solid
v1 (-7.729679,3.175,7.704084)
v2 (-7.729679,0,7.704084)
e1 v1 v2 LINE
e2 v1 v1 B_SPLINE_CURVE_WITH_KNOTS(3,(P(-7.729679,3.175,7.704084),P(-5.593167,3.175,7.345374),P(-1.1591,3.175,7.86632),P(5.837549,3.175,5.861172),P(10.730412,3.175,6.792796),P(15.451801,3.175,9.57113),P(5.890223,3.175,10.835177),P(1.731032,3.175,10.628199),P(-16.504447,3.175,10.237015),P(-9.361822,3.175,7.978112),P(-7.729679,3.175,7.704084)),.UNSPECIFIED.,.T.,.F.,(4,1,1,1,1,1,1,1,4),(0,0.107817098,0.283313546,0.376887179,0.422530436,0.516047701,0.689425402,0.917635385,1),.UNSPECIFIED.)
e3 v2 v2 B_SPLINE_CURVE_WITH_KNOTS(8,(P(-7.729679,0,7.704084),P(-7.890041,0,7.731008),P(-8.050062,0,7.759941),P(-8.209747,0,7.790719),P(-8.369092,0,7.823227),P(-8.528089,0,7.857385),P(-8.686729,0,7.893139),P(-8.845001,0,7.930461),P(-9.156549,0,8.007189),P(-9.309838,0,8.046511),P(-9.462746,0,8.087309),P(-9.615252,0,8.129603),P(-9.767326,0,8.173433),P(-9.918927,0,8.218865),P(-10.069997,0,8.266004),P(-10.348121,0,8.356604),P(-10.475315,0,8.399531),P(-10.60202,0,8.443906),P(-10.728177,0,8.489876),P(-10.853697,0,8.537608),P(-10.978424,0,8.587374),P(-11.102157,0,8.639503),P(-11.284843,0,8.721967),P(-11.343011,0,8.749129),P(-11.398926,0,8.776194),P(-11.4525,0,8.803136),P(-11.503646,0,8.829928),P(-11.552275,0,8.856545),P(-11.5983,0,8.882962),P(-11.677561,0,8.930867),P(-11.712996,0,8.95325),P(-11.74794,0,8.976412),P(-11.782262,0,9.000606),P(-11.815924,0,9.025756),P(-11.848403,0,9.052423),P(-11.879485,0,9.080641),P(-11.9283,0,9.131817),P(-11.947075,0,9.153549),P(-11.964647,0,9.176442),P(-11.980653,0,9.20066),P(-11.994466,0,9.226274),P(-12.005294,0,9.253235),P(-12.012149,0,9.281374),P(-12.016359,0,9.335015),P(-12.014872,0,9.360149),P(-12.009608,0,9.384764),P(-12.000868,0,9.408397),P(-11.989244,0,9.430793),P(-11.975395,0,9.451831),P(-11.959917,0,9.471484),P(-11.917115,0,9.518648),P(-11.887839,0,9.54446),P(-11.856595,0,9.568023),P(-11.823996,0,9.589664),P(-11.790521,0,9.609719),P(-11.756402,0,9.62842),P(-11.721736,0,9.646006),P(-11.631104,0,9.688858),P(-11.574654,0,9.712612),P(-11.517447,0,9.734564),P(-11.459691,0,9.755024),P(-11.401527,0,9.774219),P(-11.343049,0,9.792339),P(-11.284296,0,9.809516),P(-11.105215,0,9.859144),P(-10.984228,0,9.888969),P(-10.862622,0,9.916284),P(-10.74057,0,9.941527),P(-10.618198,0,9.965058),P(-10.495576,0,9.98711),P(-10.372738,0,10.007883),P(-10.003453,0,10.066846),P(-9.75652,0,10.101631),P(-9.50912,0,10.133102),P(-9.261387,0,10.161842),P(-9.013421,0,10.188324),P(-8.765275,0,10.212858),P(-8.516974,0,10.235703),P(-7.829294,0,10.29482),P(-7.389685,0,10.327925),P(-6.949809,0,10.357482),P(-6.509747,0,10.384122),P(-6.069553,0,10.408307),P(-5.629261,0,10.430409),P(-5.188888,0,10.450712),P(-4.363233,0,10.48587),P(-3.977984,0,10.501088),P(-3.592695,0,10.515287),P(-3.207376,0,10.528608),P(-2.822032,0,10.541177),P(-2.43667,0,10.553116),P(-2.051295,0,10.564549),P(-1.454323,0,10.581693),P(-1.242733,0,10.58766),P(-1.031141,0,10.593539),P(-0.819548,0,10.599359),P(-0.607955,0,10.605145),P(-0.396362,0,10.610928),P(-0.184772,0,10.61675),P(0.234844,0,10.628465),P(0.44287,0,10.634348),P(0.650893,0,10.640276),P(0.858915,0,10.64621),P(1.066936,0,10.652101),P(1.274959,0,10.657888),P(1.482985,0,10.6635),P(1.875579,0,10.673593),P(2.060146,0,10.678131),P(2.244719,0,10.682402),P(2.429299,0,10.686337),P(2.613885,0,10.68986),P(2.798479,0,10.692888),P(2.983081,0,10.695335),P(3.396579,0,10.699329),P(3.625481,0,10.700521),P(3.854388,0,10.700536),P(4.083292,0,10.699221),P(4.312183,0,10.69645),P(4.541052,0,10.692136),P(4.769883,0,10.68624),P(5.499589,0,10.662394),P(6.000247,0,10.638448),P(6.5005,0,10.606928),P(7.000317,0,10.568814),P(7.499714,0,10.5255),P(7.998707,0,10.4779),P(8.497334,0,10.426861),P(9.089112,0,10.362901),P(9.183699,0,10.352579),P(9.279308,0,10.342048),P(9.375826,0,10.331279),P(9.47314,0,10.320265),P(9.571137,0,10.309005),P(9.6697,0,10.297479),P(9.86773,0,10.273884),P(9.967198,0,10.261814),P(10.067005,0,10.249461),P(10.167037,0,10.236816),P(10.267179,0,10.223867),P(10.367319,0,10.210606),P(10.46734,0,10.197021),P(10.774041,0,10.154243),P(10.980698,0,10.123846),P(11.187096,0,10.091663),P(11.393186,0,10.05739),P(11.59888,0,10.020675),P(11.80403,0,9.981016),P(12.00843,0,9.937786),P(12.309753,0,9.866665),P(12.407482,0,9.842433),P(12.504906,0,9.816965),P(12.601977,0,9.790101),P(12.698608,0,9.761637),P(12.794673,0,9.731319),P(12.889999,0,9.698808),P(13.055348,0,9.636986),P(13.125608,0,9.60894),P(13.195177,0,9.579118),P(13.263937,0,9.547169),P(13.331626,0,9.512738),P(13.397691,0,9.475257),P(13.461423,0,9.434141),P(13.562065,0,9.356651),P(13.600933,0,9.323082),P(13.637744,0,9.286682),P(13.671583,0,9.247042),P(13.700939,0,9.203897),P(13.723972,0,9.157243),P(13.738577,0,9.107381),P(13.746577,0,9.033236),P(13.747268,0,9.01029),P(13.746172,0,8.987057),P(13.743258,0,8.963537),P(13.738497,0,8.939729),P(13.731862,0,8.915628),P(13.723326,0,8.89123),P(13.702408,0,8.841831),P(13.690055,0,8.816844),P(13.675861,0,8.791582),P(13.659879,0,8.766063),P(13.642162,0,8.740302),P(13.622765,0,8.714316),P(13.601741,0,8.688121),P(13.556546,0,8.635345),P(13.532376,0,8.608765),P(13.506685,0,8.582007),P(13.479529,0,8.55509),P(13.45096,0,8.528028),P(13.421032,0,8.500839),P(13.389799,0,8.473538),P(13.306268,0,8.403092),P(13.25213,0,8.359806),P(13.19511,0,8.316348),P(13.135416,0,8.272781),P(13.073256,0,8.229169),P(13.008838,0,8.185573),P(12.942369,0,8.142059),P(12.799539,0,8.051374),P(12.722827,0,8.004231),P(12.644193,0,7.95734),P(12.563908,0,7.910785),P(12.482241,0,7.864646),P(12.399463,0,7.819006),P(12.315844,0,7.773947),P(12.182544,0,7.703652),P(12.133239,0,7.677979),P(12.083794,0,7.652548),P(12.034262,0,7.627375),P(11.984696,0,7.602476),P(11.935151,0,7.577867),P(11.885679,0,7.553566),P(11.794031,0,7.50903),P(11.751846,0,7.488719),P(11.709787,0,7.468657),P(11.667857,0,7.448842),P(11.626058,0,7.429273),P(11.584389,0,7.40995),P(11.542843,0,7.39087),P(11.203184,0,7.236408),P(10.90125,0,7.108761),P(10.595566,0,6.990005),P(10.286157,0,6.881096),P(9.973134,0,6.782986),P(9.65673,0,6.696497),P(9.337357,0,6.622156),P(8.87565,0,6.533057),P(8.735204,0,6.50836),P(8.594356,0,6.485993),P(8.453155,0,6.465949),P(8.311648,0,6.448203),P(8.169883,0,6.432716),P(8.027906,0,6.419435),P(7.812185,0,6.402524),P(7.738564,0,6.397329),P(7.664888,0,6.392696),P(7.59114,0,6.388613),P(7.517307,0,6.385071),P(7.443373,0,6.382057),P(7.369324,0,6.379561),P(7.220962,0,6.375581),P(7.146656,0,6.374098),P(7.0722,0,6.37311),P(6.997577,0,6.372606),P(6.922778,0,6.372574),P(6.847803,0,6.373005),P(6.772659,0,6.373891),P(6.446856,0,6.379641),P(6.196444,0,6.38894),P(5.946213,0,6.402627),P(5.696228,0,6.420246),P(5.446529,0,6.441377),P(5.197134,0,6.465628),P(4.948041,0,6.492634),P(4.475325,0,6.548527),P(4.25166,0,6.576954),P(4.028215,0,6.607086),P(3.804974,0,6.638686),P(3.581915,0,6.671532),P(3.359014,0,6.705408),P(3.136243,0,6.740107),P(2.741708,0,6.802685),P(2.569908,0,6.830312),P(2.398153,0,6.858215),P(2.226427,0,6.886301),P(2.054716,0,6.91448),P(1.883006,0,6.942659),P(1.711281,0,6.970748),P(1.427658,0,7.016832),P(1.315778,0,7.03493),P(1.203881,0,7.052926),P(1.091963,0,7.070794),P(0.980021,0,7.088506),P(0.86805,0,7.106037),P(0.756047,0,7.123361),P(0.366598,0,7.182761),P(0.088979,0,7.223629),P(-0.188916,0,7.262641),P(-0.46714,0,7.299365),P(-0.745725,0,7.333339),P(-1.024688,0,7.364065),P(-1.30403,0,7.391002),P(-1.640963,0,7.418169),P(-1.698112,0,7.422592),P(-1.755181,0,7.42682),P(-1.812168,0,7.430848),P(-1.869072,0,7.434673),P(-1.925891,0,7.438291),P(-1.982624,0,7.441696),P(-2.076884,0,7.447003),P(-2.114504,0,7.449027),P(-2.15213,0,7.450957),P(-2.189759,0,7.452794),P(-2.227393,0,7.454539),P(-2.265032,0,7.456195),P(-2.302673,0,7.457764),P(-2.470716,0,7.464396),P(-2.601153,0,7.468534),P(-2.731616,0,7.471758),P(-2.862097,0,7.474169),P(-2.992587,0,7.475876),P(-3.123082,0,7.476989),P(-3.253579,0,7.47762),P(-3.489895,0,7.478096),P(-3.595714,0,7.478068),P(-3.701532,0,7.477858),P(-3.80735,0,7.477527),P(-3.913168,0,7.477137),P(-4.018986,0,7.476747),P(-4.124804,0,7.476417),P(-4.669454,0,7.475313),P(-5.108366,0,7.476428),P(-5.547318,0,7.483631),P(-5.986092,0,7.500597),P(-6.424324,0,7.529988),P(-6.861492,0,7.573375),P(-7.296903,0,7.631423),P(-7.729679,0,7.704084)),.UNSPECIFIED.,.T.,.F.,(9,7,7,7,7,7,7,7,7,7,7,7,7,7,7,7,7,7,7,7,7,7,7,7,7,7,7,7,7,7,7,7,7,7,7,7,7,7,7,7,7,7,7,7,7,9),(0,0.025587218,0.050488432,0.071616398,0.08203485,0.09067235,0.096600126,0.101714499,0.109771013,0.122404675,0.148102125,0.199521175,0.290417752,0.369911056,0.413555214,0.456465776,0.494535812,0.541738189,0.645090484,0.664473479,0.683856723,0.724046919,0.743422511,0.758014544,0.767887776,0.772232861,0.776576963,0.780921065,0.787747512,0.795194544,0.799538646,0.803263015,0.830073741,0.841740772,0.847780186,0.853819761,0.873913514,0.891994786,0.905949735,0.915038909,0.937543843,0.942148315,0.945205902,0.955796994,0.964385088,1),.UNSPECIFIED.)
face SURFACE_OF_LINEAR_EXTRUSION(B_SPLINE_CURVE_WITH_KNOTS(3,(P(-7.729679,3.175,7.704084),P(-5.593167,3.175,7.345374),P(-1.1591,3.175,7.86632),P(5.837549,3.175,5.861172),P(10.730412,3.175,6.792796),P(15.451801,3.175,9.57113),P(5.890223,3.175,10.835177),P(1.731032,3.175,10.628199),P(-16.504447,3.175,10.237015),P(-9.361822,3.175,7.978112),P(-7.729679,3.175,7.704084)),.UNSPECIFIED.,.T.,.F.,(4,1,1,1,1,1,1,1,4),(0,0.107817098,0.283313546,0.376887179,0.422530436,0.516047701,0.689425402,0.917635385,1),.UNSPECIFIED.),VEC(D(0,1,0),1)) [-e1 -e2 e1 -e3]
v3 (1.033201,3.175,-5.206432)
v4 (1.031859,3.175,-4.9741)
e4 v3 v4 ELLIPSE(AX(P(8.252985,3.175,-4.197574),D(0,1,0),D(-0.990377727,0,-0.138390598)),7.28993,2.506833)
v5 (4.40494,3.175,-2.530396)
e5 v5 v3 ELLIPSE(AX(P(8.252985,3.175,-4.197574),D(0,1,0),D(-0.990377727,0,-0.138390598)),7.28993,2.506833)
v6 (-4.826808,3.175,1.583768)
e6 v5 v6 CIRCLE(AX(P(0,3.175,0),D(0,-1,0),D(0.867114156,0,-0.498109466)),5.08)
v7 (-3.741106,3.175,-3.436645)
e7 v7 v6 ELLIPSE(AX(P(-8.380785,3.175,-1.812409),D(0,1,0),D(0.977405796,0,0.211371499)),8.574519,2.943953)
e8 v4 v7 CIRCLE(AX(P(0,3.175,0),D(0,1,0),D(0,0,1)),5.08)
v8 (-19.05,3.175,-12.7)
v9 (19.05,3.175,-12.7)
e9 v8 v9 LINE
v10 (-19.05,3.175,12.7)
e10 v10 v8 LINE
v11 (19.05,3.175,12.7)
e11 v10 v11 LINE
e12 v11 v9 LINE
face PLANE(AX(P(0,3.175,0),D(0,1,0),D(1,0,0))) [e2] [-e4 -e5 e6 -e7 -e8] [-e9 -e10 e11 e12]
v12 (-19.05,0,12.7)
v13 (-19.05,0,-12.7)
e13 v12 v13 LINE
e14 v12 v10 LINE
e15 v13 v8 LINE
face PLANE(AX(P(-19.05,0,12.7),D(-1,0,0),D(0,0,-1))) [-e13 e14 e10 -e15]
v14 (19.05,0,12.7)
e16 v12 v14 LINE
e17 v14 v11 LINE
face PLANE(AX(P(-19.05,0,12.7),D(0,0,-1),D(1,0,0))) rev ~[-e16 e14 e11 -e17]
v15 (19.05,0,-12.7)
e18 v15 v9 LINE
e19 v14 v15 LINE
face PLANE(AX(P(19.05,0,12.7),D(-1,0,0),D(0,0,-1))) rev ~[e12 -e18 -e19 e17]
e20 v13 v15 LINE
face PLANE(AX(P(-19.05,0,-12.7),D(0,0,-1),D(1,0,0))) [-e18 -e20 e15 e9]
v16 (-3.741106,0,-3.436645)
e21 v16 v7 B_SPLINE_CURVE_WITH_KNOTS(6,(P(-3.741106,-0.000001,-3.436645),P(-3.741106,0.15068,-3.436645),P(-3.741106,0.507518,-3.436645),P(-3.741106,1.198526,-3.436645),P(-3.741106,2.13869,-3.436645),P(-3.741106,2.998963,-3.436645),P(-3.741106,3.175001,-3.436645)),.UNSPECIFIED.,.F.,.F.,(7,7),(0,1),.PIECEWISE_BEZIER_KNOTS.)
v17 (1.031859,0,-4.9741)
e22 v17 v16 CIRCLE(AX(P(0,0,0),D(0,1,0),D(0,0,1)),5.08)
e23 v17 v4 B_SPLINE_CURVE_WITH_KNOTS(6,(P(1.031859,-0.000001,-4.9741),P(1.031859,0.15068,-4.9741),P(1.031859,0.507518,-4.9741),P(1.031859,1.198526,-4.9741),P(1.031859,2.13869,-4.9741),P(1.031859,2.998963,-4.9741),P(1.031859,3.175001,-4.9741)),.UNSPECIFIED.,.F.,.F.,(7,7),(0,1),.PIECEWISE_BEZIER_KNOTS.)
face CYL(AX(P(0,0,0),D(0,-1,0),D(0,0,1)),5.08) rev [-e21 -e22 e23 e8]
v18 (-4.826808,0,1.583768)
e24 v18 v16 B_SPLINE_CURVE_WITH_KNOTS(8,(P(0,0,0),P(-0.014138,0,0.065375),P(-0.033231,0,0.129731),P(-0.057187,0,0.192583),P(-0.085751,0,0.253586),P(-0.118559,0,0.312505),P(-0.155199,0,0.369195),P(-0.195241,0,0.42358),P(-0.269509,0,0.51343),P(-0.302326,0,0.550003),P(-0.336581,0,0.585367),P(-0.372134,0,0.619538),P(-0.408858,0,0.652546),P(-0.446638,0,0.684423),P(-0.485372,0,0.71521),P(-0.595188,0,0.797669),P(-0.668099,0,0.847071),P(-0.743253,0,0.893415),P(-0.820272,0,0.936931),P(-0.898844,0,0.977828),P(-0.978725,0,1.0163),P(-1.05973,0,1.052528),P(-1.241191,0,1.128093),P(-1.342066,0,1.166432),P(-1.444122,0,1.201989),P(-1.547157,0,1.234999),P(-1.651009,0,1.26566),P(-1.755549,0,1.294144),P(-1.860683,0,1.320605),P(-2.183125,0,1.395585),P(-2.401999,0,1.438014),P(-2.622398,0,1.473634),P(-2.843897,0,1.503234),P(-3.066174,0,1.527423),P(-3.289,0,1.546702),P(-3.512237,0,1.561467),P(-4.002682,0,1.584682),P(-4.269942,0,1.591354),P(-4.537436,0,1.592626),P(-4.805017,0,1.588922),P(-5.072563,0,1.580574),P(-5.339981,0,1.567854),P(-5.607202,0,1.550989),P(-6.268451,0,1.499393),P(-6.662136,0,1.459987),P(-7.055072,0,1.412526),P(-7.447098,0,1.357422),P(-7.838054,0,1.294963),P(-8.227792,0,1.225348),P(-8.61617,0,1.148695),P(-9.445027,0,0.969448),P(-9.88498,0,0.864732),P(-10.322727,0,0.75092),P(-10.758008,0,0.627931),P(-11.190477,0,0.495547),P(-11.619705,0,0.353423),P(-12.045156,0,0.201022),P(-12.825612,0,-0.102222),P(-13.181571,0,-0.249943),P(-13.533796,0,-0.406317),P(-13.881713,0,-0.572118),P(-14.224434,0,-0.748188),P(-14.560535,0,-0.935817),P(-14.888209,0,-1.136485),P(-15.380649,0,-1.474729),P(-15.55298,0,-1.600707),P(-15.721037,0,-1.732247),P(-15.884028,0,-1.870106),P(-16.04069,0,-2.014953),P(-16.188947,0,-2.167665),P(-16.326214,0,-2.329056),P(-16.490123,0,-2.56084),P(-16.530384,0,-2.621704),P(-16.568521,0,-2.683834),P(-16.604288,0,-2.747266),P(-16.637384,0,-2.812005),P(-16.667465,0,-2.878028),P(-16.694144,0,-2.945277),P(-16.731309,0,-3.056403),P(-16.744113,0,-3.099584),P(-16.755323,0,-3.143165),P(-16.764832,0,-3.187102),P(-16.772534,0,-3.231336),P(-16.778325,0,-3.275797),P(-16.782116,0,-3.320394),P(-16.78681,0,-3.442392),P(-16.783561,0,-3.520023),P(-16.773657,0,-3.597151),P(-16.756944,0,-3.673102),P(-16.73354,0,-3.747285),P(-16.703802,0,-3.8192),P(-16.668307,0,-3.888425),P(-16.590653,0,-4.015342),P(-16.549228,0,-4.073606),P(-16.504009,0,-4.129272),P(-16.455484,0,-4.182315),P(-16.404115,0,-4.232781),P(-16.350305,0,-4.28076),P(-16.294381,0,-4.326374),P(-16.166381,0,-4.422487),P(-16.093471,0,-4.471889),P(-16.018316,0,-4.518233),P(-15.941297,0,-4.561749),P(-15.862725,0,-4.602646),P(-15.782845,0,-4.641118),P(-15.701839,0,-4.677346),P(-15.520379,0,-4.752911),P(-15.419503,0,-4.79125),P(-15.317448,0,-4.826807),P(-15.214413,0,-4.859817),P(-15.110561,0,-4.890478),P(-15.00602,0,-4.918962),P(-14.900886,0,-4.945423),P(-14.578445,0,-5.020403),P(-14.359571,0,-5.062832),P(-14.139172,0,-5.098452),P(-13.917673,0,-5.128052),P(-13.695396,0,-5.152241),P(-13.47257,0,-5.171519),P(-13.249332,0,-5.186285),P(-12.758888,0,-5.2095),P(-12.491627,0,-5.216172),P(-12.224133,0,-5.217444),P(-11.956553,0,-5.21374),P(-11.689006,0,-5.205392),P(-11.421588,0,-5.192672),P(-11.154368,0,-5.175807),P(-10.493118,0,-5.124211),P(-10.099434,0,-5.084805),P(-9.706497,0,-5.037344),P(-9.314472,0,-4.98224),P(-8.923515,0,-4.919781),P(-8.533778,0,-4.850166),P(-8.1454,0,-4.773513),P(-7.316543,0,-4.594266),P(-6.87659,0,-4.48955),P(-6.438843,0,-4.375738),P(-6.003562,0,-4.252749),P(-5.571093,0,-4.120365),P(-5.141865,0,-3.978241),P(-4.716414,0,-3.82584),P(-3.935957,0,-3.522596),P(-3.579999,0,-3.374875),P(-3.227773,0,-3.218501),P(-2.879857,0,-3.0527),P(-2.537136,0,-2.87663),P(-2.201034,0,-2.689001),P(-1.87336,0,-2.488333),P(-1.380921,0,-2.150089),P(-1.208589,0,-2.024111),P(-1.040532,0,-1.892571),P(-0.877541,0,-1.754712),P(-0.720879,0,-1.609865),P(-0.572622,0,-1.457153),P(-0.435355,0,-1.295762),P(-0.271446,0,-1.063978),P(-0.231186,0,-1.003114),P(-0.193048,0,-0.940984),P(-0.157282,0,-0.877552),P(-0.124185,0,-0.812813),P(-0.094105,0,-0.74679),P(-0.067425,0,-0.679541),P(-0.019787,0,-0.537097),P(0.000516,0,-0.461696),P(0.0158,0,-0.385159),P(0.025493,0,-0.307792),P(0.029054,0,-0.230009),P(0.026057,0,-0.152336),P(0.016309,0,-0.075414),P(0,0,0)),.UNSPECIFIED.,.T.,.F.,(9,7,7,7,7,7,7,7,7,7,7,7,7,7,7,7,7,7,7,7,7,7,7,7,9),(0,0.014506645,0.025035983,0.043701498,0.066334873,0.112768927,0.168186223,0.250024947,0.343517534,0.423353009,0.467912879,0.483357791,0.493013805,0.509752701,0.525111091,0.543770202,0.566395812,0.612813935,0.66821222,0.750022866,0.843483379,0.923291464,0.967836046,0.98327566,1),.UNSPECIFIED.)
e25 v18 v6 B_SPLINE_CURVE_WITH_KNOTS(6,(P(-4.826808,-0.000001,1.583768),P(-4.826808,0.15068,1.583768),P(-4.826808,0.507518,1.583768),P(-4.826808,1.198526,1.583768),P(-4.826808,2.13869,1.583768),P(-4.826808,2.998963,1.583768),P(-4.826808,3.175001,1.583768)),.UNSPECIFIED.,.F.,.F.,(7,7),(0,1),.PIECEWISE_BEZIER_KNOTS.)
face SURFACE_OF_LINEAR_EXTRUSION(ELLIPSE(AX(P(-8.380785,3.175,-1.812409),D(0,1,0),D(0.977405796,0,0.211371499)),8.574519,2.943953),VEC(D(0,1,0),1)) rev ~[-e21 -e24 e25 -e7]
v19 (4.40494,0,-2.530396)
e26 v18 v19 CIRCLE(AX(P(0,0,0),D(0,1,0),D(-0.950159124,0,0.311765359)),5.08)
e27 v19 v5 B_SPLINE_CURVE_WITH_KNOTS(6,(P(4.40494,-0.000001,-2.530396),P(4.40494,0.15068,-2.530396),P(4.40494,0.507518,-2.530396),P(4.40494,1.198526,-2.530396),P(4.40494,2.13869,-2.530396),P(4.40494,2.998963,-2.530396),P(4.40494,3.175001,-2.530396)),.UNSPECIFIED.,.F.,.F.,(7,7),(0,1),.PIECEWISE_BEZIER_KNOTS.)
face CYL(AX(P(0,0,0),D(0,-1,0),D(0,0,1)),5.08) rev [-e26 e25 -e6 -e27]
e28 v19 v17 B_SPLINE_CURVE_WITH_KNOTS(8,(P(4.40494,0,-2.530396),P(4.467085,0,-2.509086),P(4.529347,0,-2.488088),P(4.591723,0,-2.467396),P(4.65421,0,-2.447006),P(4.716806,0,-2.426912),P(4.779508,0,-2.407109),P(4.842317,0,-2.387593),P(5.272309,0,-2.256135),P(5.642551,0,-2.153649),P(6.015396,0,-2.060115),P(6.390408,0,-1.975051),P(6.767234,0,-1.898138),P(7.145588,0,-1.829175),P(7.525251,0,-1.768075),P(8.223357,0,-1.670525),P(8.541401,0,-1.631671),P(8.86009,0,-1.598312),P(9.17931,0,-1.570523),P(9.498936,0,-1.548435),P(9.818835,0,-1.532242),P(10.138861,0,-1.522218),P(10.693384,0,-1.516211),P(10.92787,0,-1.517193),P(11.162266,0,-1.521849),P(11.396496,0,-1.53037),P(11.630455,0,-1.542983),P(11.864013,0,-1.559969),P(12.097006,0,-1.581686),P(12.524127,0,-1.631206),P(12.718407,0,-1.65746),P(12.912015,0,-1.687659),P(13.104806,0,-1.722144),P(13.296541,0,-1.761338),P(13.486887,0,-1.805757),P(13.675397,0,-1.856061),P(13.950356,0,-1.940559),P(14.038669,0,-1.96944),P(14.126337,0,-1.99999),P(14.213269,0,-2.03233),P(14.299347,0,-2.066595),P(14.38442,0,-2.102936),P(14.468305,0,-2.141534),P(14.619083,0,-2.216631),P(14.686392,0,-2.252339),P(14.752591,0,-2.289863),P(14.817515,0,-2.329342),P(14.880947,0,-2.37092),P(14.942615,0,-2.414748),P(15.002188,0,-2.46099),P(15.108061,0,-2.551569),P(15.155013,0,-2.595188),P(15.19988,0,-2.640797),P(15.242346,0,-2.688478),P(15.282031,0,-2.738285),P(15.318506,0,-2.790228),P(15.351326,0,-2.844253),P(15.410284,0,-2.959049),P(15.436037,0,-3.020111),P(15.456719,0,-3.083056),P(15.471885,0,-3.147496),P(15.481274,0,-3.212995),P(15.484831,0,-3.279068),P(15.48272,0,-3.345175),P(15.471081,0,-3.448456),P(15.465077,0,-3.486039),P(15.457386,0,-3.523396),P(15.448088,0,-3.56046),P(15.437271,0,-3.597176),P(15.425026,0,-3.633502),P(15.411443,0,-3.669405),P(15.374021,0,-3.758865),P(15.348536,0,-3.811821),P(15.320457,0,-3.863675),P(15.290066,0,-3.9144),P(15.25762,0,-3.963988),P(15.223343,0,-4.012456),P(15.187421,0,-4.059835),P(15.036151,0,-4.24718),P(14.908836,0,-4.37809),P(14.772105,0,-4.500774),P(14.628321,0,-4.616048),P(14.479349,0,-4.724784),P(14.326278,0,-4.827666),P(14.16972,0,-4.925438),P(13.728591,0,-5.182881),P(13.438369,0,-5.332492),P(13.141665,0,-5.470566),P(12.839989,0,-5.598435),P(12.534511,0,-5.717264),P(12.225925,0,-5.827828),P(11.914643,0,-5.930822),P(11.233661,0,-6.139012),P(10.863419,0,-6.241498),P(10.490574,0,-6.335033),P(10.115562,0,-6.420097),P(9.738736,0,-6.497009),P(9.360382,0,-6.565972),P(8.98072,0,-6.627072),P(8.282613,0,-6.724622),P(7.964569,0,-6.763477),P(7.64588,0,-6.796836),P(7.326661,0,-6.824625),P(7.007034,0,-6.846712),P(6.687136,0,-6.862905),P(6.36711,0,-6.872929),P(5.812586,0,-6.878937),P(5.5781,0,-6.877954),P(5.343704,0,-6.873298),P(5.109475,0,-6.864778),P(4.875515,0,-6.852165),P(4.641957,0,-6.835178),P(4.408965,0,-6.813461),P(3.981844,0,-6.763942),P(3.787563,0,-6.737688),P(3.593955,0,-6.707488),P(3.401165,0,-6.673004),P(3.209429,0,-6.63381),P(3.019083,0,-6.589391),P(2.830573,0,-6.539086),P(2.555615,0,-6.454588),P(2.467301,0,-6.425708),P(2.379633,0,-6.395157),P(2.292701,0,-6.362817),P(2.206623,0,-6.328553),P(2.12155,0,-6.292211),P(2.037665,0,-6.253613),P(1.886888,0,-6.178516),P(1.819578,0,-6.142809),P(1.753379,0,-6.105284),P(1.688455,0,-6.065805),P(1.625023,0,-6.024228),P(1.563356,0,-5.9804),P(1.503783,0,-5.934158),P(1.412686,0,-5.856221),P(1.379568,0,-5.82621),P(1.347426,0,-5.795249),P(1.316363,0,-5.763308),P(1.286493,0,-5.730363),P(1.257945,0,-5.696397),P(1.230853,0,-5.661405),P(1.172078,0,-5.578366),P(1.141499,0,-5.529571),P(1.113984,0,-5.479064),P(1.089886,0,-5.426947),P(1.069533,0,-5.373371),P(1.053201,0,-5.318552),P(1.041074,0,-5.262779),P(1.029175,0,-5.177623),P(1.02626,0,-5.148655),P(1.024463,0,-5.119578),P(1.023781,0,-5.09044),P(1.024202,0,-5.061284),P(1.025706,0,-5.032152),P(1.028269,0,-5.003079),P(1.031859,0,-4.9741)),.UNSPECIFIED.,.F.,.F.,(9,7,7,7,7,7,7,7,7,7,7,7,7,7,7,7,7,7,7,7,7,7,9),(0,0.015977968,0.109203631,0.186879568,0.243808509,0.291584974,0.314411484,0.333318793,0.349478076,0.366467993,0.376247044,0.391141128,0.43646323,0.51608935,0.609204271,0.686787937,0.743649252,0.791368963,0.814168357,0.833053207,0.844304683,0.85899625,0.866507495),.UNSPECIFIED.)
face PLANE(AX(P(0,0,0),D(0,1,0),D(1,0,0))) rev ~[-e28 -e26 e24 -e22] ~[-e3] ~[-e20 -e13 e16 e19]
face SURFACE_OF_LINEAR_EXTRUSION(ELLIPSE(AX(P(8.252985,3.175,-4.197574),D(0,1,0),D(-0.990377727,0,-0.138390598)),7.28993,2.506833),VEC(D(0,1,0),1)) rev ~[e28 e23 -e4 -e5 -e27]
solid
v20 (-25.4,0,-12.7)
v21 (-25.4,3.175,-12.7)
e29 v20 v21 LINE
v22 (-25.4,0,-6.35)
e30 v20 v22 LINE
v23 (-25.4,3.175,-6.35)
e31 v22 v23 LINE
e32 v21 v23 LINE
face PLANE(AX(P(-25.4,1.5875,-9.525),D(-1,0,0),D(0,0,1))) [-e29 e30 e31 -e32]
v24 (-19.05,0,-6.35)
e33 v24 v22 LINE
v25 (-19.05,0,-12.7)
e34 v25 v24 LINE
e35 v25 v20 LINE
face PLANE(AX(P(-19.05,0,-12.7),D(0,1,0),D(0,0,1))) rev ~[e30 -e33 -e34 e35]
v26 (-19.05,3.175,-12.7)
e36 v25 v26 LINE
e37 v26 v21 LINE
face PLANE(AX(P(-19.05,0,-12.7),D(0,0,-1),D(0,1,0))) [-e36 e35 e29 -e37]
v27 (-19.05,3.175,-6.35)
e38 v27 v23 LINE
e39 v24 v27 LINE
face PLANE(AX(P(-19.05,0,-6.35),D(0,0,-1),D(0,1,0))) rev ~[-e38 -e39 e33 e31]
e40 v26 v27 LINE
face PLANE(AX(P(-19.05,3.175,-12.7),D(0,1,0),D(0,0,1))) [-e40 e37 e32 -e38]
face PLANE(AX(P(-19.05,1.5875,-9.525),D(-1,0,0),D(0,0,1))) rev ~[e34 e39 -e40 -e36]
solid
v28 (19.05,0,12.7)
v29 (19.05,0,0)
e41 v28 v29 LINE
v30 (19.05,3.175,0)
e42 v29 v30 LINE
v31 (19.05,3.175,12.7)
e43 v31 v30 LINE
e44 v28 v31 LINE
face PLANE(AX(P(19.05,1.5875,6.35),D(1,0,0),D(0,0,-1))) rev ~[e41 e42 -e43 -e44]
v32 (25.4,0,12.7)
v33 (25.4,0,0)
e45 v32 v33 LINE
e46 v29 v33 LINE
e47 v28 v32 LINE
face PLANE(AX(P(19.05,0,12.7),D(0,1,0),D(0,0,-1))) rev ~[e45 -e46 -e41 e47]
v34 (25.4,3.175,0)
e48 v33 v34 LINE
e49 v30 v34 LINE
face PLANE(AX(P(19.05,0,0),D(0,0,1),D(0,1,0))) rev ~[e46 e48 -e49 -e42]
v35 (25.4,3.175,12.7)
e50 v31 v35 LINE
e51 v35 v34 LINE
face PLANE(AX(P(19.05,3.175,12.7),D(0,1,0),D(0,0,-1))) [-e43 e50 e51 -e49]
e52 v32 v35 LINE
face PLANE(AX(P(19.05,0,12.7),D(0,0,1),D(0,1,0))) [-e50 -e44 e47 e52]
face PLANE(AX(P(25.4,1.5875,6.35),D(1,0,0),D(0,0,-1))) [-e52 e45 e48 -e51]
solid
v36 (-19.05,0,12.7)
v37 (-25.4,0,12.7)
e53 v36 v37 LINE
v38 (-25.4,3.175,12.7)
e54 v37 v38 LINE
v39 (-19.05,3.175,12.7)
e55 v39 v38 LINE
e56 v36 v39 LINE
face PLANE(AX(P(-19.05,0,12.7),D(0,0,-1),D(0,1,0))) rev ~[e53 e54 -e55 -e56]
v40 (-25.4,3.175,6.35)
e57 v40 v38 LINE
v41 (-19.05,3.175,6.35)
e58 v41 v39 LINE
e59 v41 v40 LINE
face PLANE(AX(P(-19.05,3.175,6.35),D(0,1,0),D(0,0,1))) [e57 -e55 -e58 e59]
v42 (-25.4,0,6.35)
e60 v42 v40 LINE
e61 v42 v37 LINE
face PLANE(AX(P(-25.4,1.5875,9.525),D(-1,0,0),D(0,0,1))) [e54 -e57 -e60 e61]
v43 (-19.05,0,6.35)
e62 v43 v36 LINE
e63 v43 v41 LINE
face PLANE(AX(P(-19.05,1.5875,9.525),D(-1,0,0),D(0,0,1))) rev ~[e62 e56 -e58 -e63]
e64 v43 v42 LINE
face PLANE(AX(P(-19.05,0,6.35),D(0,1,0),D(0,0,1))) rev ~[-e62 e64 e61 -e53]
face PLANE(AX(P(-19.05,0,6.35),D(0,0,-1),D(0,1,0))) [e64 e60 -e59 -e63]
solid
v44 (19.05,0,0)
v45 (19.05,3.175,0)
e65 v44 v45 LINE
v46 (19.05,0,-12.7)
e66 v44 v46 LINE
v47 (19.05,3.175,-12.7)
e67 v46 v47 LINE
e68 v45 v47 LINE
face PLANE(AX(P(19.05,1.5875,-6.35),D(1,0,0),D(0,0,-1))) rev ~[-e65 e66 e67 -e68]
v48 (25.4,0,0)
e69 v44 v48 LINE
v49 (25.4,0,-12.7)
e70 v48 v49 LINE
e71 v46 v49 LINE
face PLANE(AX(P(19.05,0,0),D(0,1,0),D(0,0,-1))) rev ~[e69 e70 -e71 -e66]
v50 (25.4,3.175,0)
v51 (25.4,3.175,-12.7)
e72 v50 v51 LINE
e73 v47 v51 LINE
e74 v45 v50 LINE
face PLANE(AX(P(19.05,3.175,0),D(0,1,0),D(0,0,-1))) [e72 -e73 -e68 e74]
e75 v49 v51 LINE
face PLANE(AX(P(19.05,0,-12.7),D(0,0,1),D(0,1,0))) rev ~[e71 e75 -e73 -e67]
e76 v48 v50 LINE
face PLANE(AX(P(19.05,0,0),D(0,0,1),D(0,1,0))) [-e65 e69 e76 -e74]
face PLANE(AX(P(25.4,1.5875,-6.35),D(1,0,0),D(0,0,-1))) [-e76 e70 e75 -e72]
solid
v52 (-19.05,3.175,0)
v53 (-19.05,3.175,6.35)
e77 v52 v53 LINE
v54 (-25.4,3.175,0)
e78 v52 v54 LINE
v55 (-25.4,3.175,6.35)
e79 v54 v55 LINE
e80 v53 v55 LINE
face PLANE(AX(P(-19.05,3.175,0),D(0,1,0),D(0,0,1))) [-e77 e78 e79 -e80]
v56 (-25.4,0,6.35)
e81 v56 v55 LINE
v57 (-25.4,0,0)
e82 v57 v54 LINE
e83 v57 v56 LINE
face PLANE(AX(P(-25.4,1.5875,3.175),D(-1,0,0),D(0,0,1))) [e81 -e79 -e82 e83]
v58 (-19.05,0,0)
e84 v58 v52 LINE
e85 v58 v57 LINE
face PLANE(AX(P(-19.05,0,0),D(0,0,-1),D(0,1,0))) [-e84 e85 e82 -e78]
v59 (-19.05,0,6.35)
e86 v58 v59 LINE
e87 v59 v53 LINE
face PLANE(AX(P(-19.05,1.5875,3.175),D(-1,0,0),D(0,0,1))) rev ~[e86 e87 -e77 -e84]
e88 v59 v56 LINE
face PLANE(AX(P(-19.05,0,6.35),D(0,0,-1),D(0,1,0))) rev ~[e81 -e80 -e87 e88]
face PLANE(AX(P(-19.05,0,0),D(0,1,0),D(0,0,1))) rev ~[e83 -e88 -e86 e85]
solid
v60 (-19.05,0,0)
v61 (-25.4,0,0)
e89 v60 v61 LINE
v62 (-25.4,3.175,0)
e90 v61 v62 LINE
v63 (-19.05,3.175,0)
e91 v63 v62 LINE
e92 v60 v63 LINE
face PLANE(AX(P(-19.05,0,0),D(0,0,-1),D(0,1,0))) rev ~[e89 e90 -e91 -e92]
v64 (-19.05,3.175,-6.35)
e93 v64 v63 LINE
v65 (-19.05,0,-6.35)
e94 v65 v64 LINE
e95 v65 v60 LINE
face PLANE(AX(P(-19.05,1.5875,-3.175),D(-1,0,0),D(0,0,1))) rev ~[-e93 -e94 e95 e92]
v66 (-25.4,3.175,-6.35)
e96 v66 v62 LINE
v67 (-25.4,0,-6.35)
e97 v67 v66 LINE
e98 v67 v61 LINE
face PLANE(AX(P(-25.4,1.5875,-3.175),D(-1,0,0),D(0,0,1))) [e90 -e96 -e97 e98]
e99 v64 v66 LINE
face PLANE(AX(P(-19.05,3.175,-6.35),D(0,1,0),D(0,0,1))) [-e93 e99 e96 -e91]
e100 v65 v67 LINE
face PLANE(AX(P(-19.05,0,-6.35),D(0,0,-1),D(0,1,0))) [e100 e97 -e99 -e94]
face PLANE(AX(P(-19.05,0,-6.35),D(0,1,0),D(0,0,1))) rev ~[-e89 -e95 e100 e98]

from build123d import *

# Parameters (mm, degrees)
SKETCH1_W           = 38.1
SKETCH1_H           = 25.4
SKETCH1_R           = 5.08
BOSS_EXTRUDE1_DEPTH = 3.175
SKETCH2_W           = 6.35
SKETCH2_H           = 3.175
BOSS_EXTRUDE3_DEPTH = 6.35
SKETCH2_4_W         = 6.35
SKETCH2_4_H         = 3.175
BOSS_EXTRUDE4_DEPTH = 6.35
SKETCH2_6_W         = 6.35
SKETCH2_6_H         = 3.175
BOSS_EXTRUDE6_DEPTH = 6.35
SKETCH2_7_W         = 6.35
SKETCH2_7_H         = 3.175
BOSS_EXTRUDE7_DEPTH = 6.35
SKETCH4_W           = 12.7
SKETCH4_H           = 3.175
BOSS_EXTRUDE8_DEPTH = 6.35
SKETCH4_3_W         = 12.7
SKETCH4_3_H         = 3.175
BOSS_EXTRUDE9_DEPTH = 6.35
SKETCH6_RX          = 8.57451924
SKETCH6_RY          = 2.943953473
SKETCH6_RX_2        = 7.289930047
SKETCH6_RY_2        = 2.506832752
CUT_EXTRUDE1_DEPTH  = 29.575
CUT_EXTRUDE2_DEPTH  = 29.575000056


with BuildPart() as part:
    # Sketch1 → Boss-Extrude1 (new body)
    with BuildSketch(Plane(origin=(0, 0, 0), x_dir=(1, 0, 0), z_dir=(0, 1, 0))):
        Rectangle(SKETCH1_W, SKETCH1_H)
        Circle(SKETCH1_R, mode=Mode.SUBTRACT)
    extrude(amount=BOSS_EXTRUDE1_DEPTH)

    # Sketch6 → Cut-Extrude1 (cut, through all)
    with BuildSketch(Plane(origin=(0, 3.175, 0), x_dir=(1, 0, 0), z_dir=(0, 1, 0))):
        with Locations(Location((-8.380784801, 1.812408983), (0, 0, -12.202737687))):
            Ellipse(SKETCH6_RX, SKETCH6_RY)
        with Locations(Location((8.25298518, 4.197573784), (0, 0, 172.045272206))):
            Ellipse(SKETCH6_RX_2, SKETCH6_RY_2)
    extrude(amount=-CUT_EXTRUDE1_DEPTH, mode=Mode.SUBTRACT)

    # Sketch7 → Cut-Extrude2 (cut, through all)
    with BuildSketch(Plane(origin=(0, 3.175, 0), x_dir=(1, 0, 0), z_dir=(0, 1, 0))):
        with BuildLine():
            add(Edge.make_bspline(
                [(-7.729678553, -7.704083591), (-5.593166835, -7.345374411), (-1.159100469, -7.866320115), (5.837548536, -5.861172246), (10.730412338, -6.792796164), (15.45180073, -9.571129645), (5.89022341, -10.835176772), (1.731031847, -10.628198791), (-16.504446605, -10.237014881), (-9.361821969, -7.978111962), (-7.729678553, -7.704083591)],
                knots=[0, 0, 0, 0, 0.107817098, 0.283313546, 0.376887179, 0.422530436, 0.516047701, 0.689425402, 0.917635385, 1, 1, 1, 1], degree=3))
        make_face()
    extrude(amount=-CUT_EXTRUDE2_DEPTH, mode=Mode.SUBTRACT)


with BuildPart() as body_2:
    # Sketch2 → Boss-Extrude3 (new body)
    with BuildSketch(Plane.ZY.offset(19.05)):
        with Locations((-9.525, 1.5875)):
            Rectangle(SKETCH2_W, SKETCH2_H)
    extrude(amount=BOSS_EXTRUDE3_DEPTH)


with BuildPart() as body_3:
    # Sketch2<4> → Boss-Extrude4 (new body)
    with BuildSketch(Plane.ZY.offset(19.05)):
        with Locations((-3.175, 1.5875)):
            Rectangle(SKETCH2_4_W, SKETCH2_4_H)
    extrude(amount=BOSS_EXTRUDE4_DEPTH)


with BuildPart() as body_4:
    # Sketch2<6> → Boss-Extrude6 (new body)
    with BuildSketch(Plane.ZY.offset(19.05)):
        with Locations((3.175, 1.5875)):
            Rectangle(SKETCH2_6_W, SKETCH2_6_H)
    extrude(amount=BOSS_EXTRUDE6_DEPTH)


with BuildPart() as body_5:
    # Sketch2<7> → Boss-Extrude7 (new body)
    with BuildSketch(Plane.ZY.offset(19.05)):
        with Locations((9.525, 1.5875)):
            Rectangle(SKETCH2_7_W, SKETCH2_7_H)
    extrude(amount=BOSS_EXTRUDE7_DEPTH)


with BuildPart() as body_6:
    # Sketch4 → Boss-Extrude8 (new body)
    with BuildSketch(Plane(origin=(19.05, 0, 0), x_dir=(0, 0, -1), z_dir=(1, 0, 0))):
        with Locations((-6.35, 1.5875)):
            Rectangle(SKETCH4_W, SKETCH4_H)
    extrude(amount=BOSS_EXTRUDE8_DEPTH)


with BuildPart() as body_7:
    # Sketch4<3> → Boss-Extrude9 (new body)
    with BuildSketch(Plane(origin=(19.05, 0, 0), x_dir=(0, 0, -1), z_dir=(1, 0, 0))):
        with Locations((6.35, 1.5875)):
            Rectangle(SKETCH4_3_W, SKETCH4_3_H)
    extrude(amount=BOSS_EXTRUDE9_DEPTH)


solid = Compound([part.part, body_2.part, body_3.part, body_4.part, body_5.part, body_6.part, body_7.part])
